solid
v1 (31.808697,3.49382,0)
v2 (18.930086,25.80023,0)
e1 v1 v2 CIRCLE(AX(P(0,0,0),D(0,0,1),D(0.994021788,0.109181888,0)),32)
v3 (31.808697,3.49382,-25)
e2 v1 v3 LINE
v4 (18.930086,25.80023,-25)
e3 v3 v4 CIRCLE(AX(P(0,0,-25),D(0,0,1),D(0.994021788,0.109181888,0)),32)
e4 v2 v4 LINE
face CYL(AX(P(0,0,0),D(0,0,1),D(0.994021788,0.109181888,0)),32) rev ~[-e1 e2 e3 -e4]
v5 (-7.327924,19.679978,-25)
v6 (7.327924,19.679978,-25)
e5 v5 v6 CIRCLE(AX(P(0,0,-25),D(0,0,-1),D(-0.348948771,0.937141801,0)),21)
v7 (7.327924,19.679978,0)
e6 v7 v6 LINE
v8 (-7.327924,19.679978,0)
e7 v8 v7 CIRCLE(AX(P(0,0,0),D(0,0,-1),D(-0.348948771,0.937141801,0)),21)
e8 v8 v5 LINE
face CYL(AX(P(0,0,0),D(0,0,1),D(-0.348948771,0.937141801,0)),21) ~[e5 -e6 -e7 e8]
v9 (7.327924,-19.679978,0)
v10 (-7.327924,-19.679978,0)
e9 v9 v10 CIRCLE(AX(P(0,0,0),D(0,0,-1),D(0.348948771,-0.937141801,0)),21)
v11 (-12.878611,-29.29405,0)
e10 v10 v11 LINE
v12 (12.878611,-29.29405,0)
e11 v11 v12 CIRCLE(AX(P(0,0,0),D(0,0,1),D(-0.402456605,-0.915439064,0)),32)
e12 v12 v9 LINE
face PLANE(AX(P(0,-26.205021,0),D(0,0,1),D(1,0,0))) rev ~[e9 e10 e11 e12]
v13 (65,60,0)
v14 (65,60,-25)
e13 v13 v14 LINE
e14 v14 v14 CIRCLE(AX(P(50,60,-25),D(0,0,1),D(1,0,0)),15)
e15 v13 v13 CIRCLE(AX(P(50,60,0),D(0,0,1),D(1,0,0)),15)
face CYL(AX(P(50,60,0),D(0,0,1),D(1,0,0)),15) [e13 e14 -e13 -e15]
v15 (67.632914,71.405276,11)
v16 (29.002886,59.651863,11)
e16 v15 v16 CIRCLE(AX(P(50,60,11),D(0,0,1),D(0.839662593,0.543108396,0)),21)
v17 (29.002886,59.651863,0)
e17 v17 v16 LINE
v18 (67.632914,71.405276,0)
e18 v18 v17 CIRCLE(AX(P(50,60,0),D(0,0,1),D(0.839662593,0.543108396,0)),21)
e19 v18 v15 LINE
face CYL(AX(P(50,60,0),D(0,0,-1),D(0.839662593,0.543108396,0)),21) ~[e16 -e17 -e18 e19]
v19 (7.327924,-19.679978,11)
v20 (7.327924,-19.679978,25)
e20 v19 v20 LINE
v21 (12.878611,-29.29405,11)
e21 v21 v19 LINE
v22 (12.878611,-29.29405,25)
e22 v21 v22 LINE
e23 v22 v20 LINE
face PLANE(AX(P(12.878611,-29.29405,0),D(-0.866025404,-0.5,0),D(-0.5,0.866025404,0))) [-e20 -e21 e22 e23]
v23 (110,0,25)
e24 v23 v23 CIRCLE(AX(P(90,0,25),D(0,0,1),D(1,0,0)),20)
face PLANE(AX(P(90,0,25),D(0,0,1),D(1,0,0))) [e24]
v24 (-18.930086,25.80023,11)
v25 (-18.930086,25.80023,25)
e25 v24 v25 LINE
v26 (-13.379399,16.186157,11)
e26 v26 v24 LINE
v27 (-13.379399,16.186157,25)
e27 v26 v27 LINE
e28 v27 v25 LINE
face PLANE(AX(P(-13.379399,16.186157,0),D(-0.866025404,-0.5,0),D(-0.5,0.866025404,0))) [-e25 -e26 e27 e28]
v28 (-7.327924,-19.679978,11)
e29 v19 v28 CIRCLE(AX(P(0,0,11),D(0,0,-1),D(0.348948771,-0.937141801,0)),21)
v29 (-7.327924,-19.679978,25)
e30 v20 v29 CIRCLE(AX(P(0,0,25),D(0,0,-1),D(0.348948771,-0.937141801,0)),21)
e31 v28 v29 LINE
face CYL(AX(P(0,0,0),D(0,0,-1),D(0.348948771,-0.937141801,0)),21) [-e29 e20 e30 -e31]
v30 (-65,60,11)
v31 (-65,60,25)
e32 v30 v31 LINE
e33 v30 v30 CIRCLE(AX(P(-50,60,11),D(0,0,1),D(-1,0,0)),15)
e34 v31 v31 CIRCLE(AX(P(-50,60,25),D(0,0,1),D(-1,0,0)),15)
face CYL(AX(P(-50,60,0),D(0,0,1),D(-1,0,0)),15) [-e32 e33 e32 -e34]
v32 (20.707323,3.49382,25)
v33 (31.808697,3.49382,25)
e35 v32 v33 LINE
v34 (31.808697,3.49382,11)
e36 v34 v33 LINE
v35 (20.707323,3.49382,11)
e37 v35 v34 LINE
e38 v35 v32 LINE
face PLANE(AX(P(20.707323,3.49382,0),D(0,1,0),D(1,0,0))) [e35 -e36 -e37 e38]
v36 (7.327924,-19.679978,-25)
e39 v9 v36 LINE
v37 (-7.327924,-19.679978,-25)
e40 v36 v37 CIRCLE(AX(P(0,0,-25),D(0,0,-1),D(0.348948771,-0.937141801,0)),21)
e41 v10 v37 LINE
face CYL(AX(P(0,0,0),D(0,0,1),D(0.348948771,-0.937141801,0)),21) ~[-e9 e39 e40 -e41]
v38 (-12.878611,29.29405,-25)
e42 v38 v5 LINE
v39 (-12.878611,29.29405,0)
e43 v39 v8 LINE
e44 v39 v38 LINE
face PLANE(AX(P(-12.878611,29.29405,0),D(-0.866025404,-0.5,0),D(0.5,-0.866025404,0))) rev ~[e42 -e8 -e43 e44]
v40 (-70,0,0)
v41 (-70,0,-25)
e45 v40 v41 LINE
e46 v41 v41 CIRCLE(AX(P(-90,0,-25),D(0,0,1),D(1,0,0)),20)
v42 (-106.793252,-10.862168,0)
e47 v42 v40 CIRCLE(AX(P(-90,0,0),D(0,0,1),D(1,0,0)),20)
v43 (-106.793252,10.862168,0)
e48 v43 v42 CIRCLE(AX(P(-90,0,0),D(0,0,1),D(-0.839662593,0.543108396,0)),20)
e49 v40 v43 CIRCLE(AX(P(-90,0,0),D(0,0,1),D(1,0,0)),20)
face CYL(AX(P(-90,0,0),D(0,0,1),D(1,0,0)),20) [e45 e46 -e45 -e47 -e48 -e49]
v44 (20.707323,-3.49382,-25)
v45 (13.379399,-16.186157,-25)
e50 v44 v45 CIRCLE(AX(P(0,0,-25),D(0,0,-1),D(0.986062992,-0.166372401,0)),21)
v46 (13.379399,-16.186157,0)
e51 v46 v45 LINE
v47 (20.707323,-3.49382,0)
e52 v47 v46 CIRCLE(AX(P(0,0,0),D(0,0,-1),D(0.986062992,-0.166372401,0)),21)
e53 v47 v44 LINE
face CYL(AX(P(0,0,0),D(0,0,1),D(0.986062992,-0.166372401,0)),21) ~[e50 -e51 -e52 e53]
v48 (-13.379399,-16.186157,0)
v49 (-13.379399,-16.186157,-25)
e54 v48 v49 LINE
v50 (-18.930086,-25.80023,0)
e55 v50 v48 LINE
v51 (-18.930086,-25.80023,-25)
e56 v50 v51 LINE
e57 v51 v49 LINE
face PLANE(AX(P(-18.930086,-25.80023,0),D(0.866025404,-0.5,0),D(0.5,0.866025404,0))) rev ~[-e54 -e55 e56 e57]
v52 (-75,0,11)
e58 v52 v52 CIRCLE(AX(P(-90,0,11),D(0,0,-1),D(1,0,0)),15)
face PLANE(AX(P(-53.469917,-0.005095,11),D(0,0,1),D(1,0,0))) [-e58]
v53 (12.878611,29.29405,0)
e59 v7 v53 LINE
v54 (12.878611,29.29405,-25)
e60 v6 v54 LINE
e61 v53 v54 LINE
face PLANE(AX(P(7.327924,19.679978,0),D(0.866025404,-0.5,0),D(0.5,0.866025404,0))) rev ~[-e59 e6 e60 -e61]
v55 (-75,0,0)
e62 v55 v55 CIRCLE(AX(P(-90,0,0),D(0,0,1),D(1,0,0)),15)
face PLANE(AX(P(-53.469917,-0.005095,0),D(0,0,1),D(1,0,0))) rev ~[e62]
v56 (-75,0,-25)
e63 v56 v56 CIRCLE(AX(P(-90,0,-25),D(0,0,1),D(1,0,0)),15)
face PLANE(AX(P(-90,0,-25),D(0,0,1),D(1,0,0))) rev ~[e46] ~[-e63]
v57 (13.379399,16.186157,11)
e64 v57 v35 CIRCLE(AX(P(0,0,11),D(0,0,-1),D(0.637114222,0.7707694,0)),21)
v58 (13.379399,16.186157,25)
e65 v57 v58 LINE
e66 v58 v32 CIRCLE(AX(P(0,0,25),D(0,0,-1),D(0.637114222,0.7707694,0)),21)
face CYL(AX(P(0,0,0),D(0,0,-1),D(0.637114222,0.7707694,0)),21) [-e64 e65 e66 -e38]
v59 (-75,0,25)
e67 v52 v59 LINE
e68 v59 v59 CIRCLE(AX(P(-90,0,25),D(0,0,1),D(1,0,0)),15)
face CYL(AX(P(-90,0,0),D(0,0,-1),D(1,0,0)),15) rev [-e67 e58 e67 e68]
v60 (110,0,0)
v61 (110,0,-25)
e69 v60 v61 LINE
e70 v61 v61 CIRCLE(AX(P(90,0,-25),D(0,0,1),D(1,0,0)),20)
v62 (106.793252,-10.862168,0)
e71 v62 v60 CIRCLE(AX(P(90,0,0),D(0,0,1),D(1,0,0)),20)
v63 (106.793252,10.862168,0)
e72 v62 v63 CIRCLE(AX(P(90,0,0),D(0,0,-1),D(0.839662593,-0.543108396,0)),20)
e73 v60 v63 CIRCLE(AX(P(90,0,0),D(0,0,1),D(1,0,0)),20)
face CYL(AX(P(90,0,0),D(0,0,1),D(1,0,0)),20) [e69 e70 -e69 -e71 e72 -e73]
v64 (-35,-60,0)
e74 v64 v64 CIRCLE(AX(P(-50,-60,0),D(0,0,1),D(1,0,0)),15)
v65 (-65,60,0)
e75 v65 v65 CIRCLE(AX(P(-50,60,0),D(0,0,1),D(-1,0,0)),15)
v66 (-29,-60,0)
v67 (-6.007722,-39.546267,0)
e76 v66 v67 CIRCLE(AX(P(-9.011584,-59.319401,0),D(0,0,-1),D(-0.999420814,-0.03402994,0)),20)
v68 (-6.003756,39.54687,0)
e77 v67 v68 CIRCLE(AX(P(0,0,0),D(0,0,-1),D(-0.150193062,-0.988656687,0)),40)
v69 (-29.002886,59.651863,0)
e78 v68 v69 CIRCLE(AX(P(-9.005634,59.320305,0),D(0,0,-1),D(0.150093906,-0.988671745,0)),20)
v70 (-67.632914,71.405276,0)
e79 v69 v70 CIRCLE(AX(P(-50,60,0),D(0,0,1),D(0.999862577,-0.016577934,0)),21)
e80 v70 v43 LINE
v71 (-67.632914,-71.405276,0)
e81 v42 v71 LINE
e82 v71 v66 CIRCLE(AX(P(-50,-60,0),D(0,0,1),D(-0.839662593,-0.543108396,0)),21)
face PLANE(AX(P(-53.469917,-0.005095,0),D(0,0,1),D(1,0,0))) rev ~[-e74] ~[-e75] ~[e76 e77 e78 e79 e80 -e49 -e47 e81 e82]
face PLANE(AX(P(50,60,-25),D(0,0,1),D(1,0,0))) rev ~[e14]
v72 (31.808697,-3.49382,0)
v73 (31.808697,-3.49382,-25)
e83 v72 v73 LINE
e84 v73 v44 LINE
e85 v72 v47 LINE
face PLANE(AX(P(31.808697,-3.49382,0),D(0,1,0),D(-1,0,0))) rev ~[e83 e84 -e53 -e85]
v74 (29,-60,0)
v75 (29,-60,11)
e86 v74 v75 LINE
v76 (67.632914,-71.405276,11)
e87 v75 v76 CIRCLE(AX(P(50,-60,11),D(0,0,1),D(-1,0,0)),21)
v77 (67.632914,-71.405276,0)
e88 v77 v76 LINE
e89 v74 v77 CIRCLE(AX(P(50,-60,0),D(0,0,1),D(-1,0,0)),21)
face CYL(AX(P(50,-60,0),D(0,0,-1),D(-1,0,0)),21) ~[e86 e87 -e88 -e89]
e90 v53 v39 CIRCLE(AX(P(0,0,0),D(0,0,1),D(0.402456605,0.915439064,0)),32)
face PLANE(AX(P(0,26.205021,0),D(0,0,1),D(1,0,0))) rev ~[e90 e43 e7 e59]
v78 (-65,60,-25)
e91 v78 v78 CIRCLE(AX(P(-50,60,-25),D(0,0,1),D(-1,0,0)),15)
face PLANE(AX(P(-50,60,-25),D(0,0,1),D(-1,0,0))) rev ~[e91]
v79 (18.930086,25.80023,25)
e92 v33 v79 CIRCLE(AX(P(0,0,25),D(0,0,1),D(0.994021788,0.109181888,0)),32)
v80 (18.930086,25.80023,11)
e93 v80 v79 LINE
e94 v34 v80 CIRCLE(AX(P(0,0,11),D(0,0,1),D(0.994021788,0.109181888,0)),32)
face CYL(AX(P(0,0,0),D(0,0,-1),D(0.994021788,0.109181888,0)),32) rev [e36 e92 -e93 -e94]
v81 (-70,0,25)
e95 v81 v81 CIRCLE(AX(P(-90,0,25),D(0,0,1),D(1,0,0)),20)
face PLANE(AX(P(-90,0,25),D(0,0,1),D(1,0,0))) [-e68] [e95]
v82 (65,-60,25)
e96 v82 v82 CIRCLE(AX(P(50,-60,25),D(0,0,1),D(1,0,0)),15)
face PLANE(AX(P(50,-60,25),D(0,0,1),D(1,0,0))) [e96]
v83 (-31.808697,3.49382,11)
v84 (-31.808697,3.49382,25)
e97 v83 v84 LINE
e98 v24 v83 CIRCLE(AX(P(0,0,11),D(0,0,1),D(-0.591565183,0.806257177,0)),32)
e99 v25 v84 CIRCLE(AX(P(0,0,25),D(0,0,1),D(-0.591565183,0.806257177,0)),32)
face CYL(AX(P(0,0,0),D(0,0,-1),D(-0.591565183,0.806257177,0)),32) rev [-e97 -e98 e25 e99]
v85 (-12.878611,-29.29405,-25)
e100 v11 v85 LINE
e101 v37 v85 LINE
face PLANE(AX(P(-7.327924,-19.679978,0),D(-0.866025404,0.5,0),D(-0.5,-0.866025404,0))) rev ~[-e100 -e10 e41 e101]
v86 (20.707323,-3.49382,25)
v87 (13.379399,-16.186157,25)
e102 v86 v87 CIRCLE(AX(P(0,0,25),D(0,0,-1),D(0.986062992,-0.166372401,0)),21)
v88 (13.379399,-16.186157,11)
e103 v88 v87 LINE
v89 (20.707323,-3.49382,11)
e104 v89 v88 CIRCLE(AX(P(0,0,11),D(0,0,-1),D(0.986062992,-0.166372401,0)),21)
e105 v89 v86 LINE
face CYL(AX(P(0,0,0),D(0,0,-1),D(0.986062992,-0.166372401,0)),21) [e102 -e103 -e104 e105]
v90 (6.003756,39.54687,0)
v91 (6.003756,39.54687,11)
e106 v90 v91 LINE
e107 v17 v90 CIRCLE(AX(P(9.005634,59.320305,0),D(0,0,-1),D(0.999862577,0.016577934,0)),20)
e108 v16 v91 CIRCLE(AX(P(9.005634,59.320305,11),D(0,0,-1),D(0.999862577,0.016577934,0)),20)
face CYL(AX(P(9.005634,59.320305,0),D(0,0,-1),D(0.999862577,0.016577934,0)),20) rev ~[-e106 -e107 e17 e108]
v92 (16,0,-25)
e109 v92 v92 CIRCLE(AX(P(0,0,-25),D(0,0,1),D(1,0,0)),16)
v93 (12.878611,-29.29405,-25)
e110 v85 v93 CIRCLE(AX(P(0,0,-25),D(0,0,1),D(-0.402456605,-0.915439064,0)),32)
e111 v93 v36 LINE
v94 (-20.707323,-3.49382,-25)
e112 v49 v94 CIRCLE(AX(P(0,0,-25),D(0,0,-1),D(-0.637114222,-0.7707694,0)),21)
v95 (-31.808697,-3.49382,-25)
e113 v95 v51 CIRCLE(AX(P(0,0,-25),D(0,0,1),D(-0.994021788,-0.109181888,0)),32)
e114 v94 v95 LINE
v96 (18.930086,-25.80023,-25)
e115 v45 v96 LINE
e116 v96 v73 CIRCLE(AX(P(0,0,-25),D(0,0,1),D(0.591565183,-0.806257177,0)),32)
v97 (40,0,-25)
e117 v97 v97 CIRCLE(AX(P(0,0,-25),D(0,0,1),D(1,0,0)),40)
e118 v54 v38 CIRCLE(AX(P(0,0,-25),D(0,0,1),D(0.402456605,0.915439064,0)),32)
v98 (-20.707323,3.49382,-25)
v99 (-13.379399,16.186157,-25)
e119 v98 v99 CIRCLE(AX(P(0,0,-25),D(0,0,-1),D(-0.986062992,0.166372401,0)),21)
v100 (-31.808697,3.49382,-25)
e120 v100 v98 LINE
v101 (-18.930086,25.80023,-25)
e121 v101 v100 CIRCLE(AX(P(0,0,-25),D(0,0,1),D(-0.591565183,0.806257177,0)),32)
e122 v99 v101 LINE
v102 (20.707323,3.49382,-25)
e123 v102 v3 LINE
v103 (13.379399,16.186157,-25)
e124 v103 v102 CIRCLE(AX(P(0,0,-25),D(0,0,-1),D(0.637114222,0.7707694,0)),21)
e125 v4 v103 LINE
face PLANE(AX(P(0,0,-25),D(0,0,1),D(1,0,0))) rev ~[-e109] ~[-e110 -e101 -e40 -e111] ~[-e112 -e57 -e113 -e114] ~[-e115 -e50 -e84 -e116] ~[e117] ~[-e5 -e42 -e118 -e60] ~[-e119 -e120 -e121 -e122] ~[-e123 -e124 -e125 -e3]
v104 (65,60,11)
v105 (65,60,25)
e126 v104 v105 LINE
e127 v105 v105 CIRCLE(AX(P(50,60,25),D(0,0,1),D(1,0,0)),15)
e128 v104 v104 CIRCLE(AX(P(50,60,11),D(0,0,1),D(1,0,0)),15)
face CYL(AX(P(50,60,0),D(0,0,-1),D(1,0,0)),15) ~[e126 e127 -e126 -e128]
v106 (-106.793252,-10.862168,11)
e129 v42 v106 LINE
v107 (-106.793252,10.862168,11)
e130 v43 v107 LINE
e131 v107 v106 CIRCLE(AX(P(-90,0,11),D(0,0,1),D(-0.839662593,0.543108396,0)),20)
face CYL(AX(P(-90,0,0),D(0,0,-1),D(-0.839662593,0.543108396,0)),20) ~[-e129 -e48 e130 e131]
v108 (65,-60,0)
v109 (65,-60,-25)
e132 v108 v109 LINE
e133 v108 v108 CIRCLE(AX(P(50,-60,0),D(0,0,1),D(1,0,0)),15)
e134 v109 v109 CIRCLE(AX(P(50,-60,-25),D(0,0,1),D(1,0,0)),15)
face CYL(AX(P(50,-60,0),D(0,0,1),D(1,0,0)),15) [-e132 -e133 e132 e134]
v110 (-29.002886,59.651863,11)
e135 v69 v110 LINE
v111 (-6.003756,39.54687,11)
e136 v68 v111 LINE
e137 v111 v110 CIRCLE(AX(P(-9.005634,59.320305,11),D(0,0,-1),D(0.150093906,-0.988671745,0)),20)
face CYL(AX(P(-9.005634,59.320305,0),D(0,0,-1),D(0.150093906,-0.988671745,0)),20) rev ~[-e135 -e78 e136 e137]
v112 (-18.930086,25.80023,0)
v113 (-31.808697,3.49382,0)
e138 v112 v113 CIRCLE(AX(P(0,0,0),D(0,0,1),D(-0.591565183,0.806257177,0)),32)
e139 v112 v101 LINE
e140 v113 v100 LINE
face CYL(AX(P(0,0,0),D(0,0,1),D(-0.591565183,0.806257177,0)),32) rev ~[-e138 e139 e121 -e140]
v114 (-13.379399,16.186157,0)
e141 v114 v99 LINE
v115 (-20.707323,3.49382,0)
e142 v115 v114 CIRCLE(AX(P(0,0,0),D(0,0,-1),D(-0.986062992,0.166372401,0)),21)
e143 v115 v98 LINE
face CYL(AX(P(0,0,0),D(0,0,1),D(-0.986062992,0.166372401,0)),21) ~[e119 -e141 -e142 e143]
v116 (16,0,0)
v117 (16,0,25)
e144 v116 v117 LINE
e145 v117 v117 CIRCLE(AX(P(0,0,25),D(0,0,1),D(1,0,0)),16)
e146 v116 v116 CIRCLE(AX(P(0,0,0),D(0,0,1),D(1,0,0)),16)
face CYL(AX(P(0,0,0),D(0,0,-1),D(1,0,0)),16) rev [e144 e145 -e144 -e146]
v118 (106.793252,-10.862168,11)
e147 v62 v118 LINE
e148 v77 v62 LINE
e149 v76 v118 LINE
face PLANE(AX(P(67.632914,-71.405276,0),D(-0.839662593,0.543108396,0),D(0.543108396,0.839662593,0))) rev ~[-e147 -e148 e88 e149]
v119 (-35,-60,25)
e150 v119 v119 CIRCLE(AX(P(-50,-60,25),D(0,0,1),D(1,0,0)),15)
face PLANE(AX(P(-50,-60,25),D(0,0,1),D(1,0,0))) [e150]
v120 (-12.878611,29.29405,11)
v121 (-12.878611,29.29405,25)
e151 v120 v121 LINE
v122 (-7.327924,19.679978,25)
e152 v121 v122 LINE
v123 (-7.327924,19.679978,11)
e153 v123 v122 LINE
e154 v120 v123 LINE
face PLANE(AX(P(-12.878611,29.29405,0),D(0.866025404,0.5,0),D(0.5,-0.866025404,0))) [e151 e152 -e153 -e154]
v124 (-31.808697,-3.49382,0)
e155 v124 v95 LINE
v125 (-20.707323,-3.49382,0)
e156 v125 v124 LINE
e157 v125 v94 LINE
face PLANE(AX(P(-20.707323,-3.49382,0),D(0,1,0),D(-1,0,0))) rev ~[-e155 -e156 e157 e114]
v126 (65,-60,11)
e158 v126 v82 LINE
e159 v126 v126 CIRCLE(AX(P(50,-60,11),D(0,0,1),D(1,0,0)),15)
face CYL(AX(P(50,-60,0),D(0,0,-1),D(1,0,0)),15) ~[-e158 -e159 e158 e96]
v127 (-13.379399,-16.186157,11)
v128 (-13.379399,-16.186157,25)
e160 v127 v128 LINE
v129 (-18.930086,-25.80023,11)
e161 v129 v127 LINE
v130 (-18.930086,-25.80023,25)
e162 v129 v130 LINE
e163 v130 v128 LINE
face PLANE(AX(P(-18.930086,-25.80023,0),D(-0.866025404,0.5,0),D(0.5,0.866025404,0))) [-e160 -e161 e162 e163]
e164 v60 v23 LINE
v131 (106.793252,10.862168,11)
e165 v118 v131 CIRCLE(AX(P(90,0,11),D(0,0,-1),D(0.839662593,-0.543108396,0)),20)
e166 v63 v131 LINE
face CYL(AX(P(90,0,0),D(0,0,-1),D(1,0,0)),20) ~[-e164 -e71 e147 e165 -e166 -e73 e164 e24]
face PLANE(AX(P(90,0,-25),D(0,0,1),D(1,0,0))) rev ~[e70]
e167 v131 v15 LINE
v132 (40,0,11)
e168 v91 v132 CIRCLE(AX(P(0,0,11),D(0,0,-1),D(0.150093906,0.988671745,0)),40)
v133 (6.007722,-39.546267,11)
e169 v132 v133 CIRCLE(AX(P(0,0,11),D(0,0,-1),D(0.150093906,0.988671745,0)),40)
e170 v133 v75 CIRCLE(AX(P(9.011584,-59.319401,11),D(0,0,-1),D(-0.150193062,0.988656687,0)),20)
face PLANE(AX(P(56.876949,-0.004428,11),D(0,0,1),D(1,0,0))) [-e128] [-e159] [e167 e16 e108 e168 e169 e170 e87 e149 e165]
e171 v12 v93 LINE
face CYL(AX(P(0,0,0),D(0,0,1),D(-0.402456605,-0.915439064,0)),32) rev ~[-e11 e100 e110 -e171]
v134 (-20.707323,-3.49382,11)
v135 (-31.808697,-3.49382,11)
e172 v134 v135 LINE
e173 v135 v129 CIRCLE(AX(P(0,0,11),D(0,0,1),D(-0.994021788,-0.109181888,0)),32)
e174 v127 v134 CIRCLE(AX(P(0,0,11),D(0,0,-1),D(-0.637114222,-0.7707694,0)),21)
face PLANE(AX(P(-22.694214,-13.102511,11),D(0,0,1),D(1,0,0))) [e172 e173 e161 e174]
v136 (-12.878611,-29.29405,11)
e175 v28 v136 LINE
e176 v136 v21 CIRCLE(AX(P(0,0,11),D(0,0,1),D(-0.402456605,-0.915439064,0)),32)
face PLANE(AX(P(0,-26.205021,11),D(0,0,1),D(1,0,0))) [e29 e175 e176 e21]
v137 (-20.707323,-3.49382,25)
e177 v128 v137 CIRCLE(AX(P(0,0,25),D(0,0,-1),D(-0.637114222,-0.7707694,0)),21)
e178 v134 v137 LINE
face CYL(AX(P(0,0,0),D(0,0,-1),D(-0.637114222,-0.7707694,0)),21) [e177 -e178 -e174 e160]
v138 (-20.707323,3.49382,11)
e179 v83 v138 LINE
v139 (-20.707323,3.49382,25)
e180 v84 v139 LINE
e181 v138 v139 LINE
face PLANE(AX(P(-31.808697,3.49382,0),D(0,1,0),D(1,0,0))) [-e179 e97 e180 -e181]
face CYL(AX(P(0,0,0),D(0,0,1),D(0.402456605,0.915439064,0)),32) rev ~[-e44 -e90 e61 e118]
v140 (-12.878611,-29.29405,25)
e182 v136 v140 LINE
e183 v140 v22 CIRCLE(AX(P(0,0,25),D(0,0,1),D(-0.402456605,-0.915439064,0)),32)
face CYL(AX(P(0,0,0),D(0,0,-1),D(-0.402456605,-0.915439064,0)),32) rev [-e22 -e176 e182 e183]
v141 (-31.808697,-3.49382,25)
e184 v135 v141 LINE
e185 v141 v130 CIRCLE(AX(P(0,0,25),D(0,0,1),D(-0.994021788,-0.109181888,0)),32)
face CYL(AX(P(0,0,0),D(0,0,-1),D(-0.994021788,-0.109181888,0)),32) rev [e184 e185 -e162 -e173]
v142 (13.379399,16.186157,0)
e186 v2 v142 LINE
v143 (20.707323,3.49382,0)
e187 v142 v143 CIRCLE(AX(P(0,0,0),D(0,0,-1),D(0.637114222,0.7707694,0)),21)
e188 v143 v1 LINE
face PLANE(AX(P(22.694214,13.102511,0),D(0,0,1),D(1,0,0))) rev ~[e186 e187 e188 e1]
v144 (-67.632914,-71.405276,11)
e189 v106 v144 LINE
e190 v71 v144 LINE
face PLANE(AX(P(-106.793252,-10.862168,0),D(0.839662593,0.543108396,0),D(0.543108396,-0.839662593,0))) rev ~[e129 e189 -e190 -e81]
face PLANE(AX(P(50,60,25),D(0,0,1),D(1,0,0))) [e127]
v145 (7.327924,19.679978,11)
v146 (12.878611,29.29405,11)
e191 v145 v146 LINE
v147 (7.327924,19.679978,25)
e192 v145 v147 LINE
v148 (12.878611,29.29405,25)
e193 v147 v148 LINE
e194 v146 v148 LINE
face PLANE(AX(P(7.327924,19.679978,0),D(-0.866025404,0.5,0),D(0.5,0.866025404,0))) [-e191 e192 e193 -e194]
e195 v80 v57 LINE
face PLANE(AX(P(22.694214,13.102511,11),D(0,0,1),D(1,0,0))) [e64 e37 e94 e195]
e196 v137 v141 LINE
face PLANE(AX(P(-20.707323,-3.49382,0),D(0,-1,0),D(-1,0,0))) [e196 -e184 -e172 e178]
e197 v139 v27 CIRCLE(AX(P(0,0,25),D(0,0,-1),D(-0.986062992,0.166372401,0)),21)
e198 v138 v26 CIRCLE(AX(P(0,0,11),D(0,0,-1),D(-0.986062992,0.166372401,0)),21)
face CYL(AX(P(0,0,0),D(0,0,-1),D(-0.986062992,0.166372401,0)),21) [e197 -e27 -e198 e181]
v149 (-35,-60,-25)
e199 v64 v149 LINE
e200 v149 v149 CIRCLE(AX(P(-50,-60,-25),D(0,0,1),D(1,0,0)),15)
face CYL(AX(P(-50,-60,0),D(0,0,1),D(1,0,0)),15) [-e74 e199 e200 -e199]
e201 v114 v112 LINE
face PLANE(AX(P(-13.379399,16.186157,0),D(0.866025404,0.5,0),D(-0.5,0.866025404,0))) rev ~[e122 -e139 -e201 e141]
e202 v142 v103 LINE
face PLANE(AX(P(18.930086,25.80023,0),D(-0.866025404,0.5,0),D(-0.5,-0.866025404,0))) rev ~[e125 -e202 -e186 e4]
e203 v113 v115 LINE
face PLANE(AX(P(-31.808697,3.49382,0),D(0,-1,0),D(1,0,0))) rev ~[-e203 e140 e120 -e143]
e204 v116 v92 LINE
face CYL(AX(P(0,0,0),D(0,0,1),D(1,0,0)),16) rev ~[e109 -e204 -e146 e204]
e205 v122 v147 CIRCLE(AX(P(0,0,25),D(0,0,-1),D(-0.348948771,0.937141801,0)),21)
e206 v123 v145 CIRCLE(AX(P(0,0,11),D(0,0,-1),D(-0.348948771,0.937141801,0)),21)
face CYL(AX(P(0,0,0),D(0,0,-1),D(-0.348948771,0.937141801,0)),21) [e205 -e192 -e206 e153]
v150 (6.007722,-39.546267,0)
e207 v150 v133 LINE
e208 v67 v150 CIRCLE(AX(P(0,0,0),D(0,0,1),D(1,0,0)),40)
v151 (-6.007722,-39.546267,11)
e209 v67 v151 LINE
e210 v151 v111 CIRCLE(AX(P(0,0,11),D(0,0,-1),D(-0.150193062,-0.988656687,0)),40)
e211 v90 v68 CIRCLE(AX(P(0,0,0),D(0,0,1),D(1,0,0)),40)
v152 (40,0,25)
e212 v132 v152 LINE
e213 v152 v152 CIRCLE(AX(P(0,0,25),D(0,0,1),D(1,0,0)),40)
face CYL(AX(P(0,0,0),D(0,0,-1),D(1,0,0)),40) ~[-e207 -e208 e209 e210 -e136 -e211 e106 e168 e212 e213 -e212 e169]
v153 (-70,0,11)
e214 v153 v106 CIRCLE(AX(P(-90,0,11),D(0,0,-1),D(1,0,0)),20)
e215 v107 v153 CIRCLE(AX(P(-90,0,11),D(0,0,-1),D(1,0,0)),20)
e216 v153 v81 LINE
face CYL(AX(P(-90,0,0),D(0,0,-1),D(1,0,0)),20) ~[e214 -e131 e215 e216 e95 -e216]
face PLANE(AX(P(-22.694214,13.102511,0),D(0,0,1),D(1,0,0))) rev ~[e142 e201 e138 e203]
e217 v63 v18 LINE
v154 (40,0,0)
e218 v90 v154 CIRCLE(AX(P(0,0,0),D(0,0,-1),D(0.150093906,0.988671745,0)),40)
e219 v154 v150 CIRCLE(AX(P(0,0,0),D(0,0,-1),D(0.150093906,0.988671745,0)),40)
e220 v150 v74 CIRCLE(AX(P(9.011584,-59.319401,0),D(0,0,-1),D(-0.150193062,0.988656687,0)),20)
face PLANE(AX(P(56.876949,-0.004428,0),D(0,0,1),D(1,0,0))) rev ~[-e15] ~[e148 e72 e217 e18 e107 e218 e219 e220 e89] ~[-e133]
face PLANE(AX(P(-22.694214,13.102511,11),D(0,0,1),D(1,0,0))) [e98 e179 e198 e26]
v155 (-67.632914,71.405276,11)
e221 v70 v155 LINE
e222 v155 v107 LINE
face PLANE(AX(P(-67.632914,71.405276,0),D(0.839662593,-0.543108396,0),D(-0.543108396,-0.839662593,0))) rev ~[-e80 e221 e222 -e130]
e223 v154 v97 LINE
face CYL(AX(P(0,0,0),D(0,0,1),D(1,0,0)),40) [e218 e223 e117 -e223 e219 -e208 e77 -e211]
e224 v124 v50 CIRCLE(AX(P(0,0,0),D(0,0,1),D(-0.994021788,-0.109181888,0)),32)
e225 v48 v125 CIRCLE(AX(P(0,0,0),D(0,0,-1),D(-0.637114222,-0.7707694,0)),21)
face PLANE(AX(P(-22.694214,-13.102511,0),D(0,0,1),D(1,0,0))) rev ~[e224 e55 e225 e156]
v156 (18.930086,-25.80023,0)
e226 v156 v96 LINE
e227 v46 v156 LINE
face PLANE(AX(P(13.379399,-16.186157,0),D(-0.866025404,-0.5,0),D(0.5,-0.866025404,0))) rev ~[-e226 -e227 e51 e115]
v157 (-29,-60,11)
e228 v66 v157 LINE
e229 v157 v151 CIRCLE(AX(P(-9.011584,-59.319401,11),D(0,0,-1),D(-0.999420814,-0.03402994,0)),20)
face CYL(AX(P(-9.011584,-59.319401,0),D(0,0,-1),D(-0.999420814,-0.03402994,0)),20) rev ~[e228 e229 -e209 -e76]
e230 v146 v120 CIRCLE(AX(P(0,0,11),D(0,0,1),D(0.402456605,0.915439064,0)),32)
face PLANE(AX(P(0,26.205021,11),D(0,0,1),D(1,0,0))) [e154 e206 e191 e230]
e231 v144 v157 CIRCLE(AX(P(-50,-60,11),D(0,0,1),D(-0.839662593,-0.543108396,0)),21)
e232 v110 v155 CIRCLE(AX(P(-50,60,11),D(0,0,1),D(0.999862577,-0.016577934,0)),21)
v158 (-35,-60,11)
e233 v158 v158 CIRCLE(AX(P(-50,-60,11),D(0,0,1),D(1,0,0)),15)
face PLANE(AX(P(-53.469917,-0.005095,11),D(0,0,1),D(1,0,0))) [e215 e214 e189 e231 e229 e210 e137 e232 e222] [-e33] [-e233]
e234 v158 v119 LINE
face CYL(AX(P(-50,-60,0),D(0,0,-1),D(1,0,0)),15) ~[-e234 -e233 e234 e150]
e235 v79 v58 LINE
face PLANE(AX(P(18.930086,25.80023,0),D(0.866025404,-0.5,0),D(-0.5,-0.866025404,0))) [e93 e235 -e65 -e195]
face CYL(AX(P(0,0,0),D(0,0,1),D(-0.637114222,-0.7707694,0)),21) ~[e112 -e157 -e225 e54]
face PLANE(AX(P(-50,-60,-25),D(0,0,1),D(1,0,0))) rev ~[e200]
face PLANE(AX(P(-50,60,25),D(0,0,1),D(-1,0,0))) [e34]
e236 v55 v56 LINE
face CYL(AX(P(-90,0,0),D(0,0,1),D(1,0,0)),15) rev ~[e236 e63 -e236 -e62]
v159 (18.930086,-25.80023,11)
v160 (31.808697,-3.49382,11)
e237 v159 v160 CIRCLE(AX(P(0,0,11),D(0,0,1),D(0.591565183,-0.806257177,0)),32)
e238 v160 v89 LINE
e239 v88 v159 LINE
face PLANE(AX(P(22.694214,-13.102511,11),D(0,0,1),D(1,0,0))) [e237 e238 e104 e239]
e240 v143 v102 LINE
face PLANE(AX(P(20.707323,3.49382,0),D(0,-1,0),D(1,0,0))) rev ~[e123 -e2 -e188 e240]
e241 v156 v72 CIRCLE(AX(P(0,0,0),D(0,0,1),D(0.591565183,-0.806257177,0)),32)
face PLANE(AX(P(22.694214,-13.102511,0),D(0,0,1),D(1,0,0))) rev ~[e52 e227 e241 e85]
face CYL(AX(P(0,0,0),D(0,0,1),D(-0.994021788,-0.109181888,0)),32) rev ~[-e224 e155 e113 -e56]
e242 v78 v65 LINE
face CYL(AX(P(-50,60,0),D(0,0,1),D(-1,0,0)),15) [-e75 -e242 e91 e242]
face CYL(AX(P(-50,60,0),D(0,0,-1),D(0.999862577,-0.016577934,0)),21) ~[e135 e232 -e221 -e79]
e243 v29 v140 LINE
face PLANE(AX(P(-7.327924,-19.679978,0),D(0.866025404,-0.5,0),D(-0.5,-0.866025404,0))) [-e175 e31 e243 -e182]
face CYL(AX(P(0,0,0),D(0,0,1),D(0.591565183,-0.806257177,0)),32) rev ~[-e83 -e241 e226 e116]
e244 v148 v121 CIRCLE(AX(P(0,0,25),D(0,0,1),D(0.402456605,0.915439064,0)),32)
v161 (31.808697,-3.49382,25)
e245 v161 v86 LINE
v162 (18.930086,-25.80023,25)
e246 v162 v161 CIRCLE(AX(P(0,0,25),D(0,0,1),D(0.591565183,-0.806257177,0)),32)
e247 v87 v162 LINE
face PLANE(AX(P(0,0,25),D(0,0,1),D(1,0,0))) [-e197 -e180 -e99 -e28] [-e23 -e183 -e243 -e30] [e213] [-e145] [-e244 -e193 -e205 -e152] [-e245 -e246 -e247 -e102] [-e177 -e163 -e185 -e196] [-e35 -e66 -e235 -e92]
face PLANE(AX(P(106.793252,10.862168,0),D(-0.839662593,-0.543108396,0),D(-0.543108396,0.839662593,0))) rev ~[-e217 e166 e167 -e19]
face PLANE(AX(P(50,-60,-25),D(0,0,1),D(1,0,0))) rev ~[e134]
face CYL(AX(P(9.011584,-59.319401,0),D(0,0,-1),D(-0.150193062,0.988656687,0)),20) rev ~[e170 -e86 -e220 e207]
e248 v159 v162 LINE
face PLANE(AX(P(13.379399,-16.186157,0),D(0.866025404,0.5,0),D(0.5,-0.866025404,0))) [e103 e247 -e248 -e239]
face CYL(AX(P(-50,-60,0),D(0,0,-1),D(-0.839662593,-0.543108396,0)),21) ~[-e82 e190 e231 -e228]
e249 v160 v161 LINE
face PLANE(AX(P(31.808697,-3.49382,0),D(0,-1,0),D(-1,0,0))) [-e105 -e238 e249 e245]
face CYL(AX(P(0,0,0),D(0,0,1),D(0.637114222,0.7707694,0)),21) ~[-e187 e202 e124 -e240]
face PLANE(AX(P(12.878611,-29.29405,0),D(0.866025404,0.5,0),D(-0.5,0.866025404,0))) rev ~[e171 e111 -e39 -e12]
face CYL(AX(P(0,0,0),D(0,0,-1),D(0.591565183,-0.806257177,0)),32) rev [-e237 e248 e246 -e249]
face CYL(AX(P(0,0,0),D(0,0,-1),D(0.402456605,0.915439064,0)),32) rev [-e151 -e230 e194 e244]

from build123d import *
from build123d.topology import SkipClean

# Parameters (mm, degrees)
BOSS_EXTRUDE1_DEPTH   = 11
BOSS_EXTRUDE1_2_DEPTH = 11
BOSS_EXTRUDE1_3_DEPTH = 11
BOSS_EXTRUDE1_4_DEPTH = 11
BOSS_EXTRUDE1_5_DEPTH = 11
BOSS_EXTRUDE1_6_DEPTH = 11
SKETCH1_R             = 15
BOSS_EXTRUDE1_7_DEPTH = 11
BOSS_EXTRUDE1_8_DEPTH = 11
SKETCH1_3_R           = 20
SKETCH1_3_R_2         = 40
SKETCH1_3_R_3         = 16
SKETCH1_3_R_4         = 15
BOSS_EXTRUDE2_DEPTH   = 25


with BuildPart() as part:
    # Sketch1 → Boss-Extrude1 (new body)
    with BuildSketch(Plane.XY):
        with BuildLine():
            ThreePointArc((13.379398651, 16.186157411), (18.186533479, 10.5), (20.707322833, 3.493820414))
            Line((20.707322833, 3.493820414), (31.808697221, 3.493820414))
            ThreePointArc((31.808697221, 3.493820414), (27.712812921, 16), (18.930085845, 25.800229648))
            Line((18.930085845, 25.800229648), (13.379398651, 16.186157411))
        make_face()
    extrude(amount=BOSS_EXTRUDE1_DEPTH)



with BuildPart() as body_2:
    # Sketch1 → Boss-Extrude1 2 (new body)
    with BuildSketch(Plane.XY):
        with BuildLine():
            Line((31.808697221, -3.493820414), (20.707322833, -3.493820414))
            ThreePointArc((20.707322833, -3.493820414), (18.186533479, -10.5), (13.379398651, -16.186157411))
            Line((13.379398651, -16.186157411), (18.930085845, -25.800229648))
            ThreePointArc((18.930085845, -25.800229648), (27.712812921, -16), (31.808697221, -3.493820414))
        make_face()
    extrude(amount=BOSS_EXTRUDE1_2_DEPTH)


with BuildPart() as body_3:
    # Sketch1 → Boss-Extrude1 3 (new body)
    with BuildSketch(Plane.XY):
        with BuildLine():
            Line((12.878611376, -29.294050062), (7.327924182, -19.679977825))
            ThreePointArc((7.327924182, -19.679977825), (0, -21), (-7.327924182, -19.679977825))
            Line((-7.327924182, -19.679977825), (-12.878611376, -29.294050062))
            ThreePointArc((-12.878611376, -29.294050062), (0, -32), (12.878611376, -29.294050062))
        make_face()
    extrude(amount=BOSS_EXTRUDE1_3_DEPTH)


with BuildPart() as body_4:
    # Sketch1 → Boss-Extrude1 4 (new body)
    with BuildSketch(Plane.XY):
        with BuildLine():
            Line((-18.930085845, -25.800229648), (-13.379398651, -16.186157411))
            ThreePointArc((-13.379398651, -16.186157411), (-18.186533479, -10.5), (-20.707322833, -3.493820414))
            Line((-20.707322833, -3.493820414), (-31.808697221, -3.493820414))
            ThreePointArc((-31.808697221, -3.493820414), (-27.712812921, -16), (-18.930085845, -25.800229648))
        make_face()
    extrude(amount=BOSS_EXTRUDE1_4_DEPTH)


with BuildPart() as body_5:
    # Sketch1 → Boss-Extrude1 5 (new body)
    with BuildSketch(Plane.XY):
        with BuildLine():
            Line((-31.808697221, 3.493820414), (-20.707322833, 3.493820414))
            ThreePointArc((-20.707322833, 3.493820414), (-18.186533479, 10.5), (-13.379398651, 16.186157411))
            Line((-13.379398651, 16.186157411), (-18.930085845, 25.800229648))
            ThreePointArc((-18.930085845, 25.800229648), (-27.712812921, 16), (-31.808697221, 3.493820414))
        make_face()
    extrude(amount=BOSS_EXTRUDE1_5_DEPTH)


with BuildPart() as body_6:
    # Sketch1 → Boss-Extrude1 6 (new body)
    with BuildSketch(Plane.XY):
        with BuildLine():
            Line((-12.878611376, 29.294050062), (-7.327924182, 19.679977825))
            ThreePointArc((-7.327924182, 19.679977825), (0, 21), (7.327924182, 19.679977825))
            Line((7.327924182, 19.679977825), (12.878611376, 29.294050062))
            ThreePointArc((12.878611376, 29.294050062), (0, 32), (-12.878611376, 29.294050062))
        make_face()
    extrude(amount=BOSS_EXTRUDE1_6_DEPTH)


with BuildPart() as body_7:
    # Sketch1 → Boss-Extrude1 7 (new body)
    with BuildSketch(Plane.XY):
        with BuildLine():
            Line((106.793251867, 10.862167911), (67.63291446, 71.405276307))
            ThreePointArc((67.63291446, 71.405276307), (43.887296944, 80.090666025), (29.002885891, 59.651863383))
            ThreePointArc((29.002885891, 59.651863383), (22.168588856, 44.262528341), (6.003756239, 39.546869801))
            ThreePointArc((6.003756239, 39.546869801), (39.99999995, 0.002005859), (6.007722482, -39.546267467))
            ThreePointArc((6.007722482, -39.546267467), (22.304723723, -44.376428641), (29, -60))
            ThreePointArc((29, -60), (44.054043545, -80.140645517), (67.63291446, -71.405276307))
            Line((67.63291446, -71.405276307), (106.793251867, -10.862167911))
            ThreePointArc((106.793251867, -10.862167911), (70, 0), (106.793251867, 10.862167911))
        make_face()
        with Locations((50, -60)):
            Circle(SKETCH1_R, mode=Mode.SUBTRACT)
        with Locations((50, 60)):
            Circle(SKETCH1_R, mode=Mode.SUBTRACT)
    extrude(amount=BOSS_EXTRUDE1_7_DEPTH)


with BuildPart() as body_8:
    # Sketch1 → Boss-Extrude1 8 (new body)
    with BuildSketch(Plane.XY):
        with BuildLine():
            ThreePointArc((-6.007722482, -39.546267467), (-39.99999995, 0.002005859), (-6.003756239, 39.546869801))
            ThreePointArc((-6.003756239, 39.546869801), (-22.168588856, 44.262528341), (-29.002885891, 59.651863383))
            ThreePointArc((-29.002885891, 59.651863383), (-43.887296944, 80.090666025), (-67.63291446, 71.405276307))
            Line((-67.63291446, 71.405276307), (-106.793251867, 10.862167911))
            ThreePointArc((-106.793251867, 10.862167911), (-110, 0), (-106.793251867, -10.862167911))
            Line((-106.793251867, -10.862167911), (-67.63291446, -71.405276307))
            ThreePointArc((-67.63291446, -71.405276307), (-44.054043545, -80.140645517), (-29, -60))
            ThreePointArc((-29, -60), (-22.304723723, -44.376428641), (-6.007722482, -39.546267467))
        make_face()
        with Locations((-50, -60)):
            Circle(SKETCH1_R, mode=Mode.SUBTRACT)
    extrude(amount=BOSS_EXTRUDE1_8_DEPTH)


with BuildPart() as part_1:
    with SkipClean():  # the faces are left unmerged after this step: merging them gives an invalid solid
        add(part.part)

        add(body_2.part)  # Boss-Extrude2 merges body 2

        add(body_3.part)  # Boss-Extrude2 merges body 3

        add(body_4.part)  # Boss-Extrude2 merges body 4

        add(body_5.part)  # Boss-Extrude2 merges body 5

        add(body_6.part)  # Boss-Extrude2 merges body 6

        add(body_7.part)  # Boss-Extrude2 merges body 7

        add(body_8.part)  # Boss-Extrude2 merges body 8
        # Sketch1<3> → Boss-Extrude2 (add, symmetric)
        # profile 1 of 7: a face of its own
        with BuildSketch(Plane.XY):
            with Locations((90, 0)):
                Circle(SKETCH1_3_R)
        # profile 2 of 7: a face of its own
        with BuildSketch(Plane.XY):
            Circle(SKETCH1_3_R_2)
            with BuildLine():
                ThreePointArc((-20.707322833, -3.493820414), (-18.186533479, -10.5), (-13.379398651, -16.186157411))
                Line((-13.379398651, -16.186157411), (-18.930085845, -25.800229648))
                ThreePointArc((-18.930085845, -25.800229648), (-27.712812921, -16), (-31.808697221, -3.493820414))
                Line((-31.808697221, -3.493820414), (-20.707322833, -3.493820414))
            make_face(mode=Mode.SUBTRACT)
            with BuildLine():
                ThreePointArc((-7.327924182, -19.679977825), (0, -21), (7.327924182, -19.679977825))
                Line((7.327924182, -19.679977825), (12.878611376, -29.294050062))
                ThreePointArc((12.878611376, -29.294050062), (0, -32), (-12.878611376, -29.294050062))
                Line((-12.878611376, -29.294050062), (-7.327924182, -19.679977825))
            make_face(mode=Mode.SUBTRACT)
            with BuildLine():
                ThreePointArc((13.379398651, -16.186157411), (18.186533479, -10.5), (20.707322833, -3.493820414))
                Line((20.707322833, -3.493820414), (31.808697221, -3.493820414))
                ThreePointArc((31.808697221, -3.493820414), (27.712812921, -16), (18.930085845, -25.800229648))
                Line((18.930085845, -25.800229648), (13.379398651, -16.186157411))
            make_face(mode=Mode.SUBTRACT)
            with BuildLine():
                ThreePointArc((-13.379398651, 16.186157411), (-18.186533479, 10.5), (-20.707322833, 3.493820414))
                Line((-20.707322833, 3.493820414), (-31.808697221, 3.493820414))
                ThreePointArc((-31.808697221, 3.493820414), (-27.712812921, 16), (-18.930085845, 25.800229648))
                Line((-18.930085845, 25.800229648), (-13.379398651, 16.186157411))
            make_face(mode=Mode.SUBTRACT)
            with BuildLine():
                ThreePointArc((7.327924182, 19.679977825), (0, 21), (-7.327924182, 19.679977825))
                Line((-7.327924182, 19.679977825), (-12.878611376, 29.294050062))
                ThreePointArc((-12.878611376, 29.294050062), (0, 32), (12.878611376, 29.294050062))
                Line((12.878611376, 29.294050062), (7.327924182, 19.679977825))
            make_face(mode=Mode.SUBTRACT)
            Circle(SKETCH1_3_R_3, mode=Mode.SUBTRACT)
            with BuildLine():
                Line((31.808697221, 3.493820414), (20.707322833, 3.493820414))
                ThreePointArc((20.707322833, 3.493820414), (18.186533479, 10.5), (13.379398651, 16.186157411))
                Line((13.379398651, 16.186157411), (18.930085845, 25.800229648))
                ThreePointArc((18.930085845, 25.800229648), (27.712812921, 16), (31.808697221, 3.493820414))
            make_face(mode=Mode.SUBTRACT)
        # profile 3 of 7: a face of its own
        with BuildSketch(Plane.XY):
            with Locations((-90, 0)):
                Circle(SKETCH1_3_R)
            with Locations((-90, 0)):
                Circle(SKETCH1_3_R_4, mode=Mode.SUBTRACT)
        # profile 4 of 7: a face of its own
        with BuildSketch(Plane.XY):
            with Locations((50, 60)):
                Circle(SKETCH1_3_R_4)
        # profile 5 of 7: a face of its own
        with BuildSketch(Plane.XY):
            with Locations((50, -60)):
                Circle(SKETCH1_3_R_4)
        # profile 6 of 7: a face of its own
        with BuildSketch(Plane.XY):
            with Locations((-50, -60)):
                Circle(SKETCH1_3_R_4)
        # profile 7 of 7: a face of its own
        with BuildSketch(Plane.XY):
            with Locations((-50, 60)):
                Circle(SKETCH1_3_R_4)
        extrude(amount=BOSS_EXTRUDE2_DEPTH, both=True)


solid = part_1.part
